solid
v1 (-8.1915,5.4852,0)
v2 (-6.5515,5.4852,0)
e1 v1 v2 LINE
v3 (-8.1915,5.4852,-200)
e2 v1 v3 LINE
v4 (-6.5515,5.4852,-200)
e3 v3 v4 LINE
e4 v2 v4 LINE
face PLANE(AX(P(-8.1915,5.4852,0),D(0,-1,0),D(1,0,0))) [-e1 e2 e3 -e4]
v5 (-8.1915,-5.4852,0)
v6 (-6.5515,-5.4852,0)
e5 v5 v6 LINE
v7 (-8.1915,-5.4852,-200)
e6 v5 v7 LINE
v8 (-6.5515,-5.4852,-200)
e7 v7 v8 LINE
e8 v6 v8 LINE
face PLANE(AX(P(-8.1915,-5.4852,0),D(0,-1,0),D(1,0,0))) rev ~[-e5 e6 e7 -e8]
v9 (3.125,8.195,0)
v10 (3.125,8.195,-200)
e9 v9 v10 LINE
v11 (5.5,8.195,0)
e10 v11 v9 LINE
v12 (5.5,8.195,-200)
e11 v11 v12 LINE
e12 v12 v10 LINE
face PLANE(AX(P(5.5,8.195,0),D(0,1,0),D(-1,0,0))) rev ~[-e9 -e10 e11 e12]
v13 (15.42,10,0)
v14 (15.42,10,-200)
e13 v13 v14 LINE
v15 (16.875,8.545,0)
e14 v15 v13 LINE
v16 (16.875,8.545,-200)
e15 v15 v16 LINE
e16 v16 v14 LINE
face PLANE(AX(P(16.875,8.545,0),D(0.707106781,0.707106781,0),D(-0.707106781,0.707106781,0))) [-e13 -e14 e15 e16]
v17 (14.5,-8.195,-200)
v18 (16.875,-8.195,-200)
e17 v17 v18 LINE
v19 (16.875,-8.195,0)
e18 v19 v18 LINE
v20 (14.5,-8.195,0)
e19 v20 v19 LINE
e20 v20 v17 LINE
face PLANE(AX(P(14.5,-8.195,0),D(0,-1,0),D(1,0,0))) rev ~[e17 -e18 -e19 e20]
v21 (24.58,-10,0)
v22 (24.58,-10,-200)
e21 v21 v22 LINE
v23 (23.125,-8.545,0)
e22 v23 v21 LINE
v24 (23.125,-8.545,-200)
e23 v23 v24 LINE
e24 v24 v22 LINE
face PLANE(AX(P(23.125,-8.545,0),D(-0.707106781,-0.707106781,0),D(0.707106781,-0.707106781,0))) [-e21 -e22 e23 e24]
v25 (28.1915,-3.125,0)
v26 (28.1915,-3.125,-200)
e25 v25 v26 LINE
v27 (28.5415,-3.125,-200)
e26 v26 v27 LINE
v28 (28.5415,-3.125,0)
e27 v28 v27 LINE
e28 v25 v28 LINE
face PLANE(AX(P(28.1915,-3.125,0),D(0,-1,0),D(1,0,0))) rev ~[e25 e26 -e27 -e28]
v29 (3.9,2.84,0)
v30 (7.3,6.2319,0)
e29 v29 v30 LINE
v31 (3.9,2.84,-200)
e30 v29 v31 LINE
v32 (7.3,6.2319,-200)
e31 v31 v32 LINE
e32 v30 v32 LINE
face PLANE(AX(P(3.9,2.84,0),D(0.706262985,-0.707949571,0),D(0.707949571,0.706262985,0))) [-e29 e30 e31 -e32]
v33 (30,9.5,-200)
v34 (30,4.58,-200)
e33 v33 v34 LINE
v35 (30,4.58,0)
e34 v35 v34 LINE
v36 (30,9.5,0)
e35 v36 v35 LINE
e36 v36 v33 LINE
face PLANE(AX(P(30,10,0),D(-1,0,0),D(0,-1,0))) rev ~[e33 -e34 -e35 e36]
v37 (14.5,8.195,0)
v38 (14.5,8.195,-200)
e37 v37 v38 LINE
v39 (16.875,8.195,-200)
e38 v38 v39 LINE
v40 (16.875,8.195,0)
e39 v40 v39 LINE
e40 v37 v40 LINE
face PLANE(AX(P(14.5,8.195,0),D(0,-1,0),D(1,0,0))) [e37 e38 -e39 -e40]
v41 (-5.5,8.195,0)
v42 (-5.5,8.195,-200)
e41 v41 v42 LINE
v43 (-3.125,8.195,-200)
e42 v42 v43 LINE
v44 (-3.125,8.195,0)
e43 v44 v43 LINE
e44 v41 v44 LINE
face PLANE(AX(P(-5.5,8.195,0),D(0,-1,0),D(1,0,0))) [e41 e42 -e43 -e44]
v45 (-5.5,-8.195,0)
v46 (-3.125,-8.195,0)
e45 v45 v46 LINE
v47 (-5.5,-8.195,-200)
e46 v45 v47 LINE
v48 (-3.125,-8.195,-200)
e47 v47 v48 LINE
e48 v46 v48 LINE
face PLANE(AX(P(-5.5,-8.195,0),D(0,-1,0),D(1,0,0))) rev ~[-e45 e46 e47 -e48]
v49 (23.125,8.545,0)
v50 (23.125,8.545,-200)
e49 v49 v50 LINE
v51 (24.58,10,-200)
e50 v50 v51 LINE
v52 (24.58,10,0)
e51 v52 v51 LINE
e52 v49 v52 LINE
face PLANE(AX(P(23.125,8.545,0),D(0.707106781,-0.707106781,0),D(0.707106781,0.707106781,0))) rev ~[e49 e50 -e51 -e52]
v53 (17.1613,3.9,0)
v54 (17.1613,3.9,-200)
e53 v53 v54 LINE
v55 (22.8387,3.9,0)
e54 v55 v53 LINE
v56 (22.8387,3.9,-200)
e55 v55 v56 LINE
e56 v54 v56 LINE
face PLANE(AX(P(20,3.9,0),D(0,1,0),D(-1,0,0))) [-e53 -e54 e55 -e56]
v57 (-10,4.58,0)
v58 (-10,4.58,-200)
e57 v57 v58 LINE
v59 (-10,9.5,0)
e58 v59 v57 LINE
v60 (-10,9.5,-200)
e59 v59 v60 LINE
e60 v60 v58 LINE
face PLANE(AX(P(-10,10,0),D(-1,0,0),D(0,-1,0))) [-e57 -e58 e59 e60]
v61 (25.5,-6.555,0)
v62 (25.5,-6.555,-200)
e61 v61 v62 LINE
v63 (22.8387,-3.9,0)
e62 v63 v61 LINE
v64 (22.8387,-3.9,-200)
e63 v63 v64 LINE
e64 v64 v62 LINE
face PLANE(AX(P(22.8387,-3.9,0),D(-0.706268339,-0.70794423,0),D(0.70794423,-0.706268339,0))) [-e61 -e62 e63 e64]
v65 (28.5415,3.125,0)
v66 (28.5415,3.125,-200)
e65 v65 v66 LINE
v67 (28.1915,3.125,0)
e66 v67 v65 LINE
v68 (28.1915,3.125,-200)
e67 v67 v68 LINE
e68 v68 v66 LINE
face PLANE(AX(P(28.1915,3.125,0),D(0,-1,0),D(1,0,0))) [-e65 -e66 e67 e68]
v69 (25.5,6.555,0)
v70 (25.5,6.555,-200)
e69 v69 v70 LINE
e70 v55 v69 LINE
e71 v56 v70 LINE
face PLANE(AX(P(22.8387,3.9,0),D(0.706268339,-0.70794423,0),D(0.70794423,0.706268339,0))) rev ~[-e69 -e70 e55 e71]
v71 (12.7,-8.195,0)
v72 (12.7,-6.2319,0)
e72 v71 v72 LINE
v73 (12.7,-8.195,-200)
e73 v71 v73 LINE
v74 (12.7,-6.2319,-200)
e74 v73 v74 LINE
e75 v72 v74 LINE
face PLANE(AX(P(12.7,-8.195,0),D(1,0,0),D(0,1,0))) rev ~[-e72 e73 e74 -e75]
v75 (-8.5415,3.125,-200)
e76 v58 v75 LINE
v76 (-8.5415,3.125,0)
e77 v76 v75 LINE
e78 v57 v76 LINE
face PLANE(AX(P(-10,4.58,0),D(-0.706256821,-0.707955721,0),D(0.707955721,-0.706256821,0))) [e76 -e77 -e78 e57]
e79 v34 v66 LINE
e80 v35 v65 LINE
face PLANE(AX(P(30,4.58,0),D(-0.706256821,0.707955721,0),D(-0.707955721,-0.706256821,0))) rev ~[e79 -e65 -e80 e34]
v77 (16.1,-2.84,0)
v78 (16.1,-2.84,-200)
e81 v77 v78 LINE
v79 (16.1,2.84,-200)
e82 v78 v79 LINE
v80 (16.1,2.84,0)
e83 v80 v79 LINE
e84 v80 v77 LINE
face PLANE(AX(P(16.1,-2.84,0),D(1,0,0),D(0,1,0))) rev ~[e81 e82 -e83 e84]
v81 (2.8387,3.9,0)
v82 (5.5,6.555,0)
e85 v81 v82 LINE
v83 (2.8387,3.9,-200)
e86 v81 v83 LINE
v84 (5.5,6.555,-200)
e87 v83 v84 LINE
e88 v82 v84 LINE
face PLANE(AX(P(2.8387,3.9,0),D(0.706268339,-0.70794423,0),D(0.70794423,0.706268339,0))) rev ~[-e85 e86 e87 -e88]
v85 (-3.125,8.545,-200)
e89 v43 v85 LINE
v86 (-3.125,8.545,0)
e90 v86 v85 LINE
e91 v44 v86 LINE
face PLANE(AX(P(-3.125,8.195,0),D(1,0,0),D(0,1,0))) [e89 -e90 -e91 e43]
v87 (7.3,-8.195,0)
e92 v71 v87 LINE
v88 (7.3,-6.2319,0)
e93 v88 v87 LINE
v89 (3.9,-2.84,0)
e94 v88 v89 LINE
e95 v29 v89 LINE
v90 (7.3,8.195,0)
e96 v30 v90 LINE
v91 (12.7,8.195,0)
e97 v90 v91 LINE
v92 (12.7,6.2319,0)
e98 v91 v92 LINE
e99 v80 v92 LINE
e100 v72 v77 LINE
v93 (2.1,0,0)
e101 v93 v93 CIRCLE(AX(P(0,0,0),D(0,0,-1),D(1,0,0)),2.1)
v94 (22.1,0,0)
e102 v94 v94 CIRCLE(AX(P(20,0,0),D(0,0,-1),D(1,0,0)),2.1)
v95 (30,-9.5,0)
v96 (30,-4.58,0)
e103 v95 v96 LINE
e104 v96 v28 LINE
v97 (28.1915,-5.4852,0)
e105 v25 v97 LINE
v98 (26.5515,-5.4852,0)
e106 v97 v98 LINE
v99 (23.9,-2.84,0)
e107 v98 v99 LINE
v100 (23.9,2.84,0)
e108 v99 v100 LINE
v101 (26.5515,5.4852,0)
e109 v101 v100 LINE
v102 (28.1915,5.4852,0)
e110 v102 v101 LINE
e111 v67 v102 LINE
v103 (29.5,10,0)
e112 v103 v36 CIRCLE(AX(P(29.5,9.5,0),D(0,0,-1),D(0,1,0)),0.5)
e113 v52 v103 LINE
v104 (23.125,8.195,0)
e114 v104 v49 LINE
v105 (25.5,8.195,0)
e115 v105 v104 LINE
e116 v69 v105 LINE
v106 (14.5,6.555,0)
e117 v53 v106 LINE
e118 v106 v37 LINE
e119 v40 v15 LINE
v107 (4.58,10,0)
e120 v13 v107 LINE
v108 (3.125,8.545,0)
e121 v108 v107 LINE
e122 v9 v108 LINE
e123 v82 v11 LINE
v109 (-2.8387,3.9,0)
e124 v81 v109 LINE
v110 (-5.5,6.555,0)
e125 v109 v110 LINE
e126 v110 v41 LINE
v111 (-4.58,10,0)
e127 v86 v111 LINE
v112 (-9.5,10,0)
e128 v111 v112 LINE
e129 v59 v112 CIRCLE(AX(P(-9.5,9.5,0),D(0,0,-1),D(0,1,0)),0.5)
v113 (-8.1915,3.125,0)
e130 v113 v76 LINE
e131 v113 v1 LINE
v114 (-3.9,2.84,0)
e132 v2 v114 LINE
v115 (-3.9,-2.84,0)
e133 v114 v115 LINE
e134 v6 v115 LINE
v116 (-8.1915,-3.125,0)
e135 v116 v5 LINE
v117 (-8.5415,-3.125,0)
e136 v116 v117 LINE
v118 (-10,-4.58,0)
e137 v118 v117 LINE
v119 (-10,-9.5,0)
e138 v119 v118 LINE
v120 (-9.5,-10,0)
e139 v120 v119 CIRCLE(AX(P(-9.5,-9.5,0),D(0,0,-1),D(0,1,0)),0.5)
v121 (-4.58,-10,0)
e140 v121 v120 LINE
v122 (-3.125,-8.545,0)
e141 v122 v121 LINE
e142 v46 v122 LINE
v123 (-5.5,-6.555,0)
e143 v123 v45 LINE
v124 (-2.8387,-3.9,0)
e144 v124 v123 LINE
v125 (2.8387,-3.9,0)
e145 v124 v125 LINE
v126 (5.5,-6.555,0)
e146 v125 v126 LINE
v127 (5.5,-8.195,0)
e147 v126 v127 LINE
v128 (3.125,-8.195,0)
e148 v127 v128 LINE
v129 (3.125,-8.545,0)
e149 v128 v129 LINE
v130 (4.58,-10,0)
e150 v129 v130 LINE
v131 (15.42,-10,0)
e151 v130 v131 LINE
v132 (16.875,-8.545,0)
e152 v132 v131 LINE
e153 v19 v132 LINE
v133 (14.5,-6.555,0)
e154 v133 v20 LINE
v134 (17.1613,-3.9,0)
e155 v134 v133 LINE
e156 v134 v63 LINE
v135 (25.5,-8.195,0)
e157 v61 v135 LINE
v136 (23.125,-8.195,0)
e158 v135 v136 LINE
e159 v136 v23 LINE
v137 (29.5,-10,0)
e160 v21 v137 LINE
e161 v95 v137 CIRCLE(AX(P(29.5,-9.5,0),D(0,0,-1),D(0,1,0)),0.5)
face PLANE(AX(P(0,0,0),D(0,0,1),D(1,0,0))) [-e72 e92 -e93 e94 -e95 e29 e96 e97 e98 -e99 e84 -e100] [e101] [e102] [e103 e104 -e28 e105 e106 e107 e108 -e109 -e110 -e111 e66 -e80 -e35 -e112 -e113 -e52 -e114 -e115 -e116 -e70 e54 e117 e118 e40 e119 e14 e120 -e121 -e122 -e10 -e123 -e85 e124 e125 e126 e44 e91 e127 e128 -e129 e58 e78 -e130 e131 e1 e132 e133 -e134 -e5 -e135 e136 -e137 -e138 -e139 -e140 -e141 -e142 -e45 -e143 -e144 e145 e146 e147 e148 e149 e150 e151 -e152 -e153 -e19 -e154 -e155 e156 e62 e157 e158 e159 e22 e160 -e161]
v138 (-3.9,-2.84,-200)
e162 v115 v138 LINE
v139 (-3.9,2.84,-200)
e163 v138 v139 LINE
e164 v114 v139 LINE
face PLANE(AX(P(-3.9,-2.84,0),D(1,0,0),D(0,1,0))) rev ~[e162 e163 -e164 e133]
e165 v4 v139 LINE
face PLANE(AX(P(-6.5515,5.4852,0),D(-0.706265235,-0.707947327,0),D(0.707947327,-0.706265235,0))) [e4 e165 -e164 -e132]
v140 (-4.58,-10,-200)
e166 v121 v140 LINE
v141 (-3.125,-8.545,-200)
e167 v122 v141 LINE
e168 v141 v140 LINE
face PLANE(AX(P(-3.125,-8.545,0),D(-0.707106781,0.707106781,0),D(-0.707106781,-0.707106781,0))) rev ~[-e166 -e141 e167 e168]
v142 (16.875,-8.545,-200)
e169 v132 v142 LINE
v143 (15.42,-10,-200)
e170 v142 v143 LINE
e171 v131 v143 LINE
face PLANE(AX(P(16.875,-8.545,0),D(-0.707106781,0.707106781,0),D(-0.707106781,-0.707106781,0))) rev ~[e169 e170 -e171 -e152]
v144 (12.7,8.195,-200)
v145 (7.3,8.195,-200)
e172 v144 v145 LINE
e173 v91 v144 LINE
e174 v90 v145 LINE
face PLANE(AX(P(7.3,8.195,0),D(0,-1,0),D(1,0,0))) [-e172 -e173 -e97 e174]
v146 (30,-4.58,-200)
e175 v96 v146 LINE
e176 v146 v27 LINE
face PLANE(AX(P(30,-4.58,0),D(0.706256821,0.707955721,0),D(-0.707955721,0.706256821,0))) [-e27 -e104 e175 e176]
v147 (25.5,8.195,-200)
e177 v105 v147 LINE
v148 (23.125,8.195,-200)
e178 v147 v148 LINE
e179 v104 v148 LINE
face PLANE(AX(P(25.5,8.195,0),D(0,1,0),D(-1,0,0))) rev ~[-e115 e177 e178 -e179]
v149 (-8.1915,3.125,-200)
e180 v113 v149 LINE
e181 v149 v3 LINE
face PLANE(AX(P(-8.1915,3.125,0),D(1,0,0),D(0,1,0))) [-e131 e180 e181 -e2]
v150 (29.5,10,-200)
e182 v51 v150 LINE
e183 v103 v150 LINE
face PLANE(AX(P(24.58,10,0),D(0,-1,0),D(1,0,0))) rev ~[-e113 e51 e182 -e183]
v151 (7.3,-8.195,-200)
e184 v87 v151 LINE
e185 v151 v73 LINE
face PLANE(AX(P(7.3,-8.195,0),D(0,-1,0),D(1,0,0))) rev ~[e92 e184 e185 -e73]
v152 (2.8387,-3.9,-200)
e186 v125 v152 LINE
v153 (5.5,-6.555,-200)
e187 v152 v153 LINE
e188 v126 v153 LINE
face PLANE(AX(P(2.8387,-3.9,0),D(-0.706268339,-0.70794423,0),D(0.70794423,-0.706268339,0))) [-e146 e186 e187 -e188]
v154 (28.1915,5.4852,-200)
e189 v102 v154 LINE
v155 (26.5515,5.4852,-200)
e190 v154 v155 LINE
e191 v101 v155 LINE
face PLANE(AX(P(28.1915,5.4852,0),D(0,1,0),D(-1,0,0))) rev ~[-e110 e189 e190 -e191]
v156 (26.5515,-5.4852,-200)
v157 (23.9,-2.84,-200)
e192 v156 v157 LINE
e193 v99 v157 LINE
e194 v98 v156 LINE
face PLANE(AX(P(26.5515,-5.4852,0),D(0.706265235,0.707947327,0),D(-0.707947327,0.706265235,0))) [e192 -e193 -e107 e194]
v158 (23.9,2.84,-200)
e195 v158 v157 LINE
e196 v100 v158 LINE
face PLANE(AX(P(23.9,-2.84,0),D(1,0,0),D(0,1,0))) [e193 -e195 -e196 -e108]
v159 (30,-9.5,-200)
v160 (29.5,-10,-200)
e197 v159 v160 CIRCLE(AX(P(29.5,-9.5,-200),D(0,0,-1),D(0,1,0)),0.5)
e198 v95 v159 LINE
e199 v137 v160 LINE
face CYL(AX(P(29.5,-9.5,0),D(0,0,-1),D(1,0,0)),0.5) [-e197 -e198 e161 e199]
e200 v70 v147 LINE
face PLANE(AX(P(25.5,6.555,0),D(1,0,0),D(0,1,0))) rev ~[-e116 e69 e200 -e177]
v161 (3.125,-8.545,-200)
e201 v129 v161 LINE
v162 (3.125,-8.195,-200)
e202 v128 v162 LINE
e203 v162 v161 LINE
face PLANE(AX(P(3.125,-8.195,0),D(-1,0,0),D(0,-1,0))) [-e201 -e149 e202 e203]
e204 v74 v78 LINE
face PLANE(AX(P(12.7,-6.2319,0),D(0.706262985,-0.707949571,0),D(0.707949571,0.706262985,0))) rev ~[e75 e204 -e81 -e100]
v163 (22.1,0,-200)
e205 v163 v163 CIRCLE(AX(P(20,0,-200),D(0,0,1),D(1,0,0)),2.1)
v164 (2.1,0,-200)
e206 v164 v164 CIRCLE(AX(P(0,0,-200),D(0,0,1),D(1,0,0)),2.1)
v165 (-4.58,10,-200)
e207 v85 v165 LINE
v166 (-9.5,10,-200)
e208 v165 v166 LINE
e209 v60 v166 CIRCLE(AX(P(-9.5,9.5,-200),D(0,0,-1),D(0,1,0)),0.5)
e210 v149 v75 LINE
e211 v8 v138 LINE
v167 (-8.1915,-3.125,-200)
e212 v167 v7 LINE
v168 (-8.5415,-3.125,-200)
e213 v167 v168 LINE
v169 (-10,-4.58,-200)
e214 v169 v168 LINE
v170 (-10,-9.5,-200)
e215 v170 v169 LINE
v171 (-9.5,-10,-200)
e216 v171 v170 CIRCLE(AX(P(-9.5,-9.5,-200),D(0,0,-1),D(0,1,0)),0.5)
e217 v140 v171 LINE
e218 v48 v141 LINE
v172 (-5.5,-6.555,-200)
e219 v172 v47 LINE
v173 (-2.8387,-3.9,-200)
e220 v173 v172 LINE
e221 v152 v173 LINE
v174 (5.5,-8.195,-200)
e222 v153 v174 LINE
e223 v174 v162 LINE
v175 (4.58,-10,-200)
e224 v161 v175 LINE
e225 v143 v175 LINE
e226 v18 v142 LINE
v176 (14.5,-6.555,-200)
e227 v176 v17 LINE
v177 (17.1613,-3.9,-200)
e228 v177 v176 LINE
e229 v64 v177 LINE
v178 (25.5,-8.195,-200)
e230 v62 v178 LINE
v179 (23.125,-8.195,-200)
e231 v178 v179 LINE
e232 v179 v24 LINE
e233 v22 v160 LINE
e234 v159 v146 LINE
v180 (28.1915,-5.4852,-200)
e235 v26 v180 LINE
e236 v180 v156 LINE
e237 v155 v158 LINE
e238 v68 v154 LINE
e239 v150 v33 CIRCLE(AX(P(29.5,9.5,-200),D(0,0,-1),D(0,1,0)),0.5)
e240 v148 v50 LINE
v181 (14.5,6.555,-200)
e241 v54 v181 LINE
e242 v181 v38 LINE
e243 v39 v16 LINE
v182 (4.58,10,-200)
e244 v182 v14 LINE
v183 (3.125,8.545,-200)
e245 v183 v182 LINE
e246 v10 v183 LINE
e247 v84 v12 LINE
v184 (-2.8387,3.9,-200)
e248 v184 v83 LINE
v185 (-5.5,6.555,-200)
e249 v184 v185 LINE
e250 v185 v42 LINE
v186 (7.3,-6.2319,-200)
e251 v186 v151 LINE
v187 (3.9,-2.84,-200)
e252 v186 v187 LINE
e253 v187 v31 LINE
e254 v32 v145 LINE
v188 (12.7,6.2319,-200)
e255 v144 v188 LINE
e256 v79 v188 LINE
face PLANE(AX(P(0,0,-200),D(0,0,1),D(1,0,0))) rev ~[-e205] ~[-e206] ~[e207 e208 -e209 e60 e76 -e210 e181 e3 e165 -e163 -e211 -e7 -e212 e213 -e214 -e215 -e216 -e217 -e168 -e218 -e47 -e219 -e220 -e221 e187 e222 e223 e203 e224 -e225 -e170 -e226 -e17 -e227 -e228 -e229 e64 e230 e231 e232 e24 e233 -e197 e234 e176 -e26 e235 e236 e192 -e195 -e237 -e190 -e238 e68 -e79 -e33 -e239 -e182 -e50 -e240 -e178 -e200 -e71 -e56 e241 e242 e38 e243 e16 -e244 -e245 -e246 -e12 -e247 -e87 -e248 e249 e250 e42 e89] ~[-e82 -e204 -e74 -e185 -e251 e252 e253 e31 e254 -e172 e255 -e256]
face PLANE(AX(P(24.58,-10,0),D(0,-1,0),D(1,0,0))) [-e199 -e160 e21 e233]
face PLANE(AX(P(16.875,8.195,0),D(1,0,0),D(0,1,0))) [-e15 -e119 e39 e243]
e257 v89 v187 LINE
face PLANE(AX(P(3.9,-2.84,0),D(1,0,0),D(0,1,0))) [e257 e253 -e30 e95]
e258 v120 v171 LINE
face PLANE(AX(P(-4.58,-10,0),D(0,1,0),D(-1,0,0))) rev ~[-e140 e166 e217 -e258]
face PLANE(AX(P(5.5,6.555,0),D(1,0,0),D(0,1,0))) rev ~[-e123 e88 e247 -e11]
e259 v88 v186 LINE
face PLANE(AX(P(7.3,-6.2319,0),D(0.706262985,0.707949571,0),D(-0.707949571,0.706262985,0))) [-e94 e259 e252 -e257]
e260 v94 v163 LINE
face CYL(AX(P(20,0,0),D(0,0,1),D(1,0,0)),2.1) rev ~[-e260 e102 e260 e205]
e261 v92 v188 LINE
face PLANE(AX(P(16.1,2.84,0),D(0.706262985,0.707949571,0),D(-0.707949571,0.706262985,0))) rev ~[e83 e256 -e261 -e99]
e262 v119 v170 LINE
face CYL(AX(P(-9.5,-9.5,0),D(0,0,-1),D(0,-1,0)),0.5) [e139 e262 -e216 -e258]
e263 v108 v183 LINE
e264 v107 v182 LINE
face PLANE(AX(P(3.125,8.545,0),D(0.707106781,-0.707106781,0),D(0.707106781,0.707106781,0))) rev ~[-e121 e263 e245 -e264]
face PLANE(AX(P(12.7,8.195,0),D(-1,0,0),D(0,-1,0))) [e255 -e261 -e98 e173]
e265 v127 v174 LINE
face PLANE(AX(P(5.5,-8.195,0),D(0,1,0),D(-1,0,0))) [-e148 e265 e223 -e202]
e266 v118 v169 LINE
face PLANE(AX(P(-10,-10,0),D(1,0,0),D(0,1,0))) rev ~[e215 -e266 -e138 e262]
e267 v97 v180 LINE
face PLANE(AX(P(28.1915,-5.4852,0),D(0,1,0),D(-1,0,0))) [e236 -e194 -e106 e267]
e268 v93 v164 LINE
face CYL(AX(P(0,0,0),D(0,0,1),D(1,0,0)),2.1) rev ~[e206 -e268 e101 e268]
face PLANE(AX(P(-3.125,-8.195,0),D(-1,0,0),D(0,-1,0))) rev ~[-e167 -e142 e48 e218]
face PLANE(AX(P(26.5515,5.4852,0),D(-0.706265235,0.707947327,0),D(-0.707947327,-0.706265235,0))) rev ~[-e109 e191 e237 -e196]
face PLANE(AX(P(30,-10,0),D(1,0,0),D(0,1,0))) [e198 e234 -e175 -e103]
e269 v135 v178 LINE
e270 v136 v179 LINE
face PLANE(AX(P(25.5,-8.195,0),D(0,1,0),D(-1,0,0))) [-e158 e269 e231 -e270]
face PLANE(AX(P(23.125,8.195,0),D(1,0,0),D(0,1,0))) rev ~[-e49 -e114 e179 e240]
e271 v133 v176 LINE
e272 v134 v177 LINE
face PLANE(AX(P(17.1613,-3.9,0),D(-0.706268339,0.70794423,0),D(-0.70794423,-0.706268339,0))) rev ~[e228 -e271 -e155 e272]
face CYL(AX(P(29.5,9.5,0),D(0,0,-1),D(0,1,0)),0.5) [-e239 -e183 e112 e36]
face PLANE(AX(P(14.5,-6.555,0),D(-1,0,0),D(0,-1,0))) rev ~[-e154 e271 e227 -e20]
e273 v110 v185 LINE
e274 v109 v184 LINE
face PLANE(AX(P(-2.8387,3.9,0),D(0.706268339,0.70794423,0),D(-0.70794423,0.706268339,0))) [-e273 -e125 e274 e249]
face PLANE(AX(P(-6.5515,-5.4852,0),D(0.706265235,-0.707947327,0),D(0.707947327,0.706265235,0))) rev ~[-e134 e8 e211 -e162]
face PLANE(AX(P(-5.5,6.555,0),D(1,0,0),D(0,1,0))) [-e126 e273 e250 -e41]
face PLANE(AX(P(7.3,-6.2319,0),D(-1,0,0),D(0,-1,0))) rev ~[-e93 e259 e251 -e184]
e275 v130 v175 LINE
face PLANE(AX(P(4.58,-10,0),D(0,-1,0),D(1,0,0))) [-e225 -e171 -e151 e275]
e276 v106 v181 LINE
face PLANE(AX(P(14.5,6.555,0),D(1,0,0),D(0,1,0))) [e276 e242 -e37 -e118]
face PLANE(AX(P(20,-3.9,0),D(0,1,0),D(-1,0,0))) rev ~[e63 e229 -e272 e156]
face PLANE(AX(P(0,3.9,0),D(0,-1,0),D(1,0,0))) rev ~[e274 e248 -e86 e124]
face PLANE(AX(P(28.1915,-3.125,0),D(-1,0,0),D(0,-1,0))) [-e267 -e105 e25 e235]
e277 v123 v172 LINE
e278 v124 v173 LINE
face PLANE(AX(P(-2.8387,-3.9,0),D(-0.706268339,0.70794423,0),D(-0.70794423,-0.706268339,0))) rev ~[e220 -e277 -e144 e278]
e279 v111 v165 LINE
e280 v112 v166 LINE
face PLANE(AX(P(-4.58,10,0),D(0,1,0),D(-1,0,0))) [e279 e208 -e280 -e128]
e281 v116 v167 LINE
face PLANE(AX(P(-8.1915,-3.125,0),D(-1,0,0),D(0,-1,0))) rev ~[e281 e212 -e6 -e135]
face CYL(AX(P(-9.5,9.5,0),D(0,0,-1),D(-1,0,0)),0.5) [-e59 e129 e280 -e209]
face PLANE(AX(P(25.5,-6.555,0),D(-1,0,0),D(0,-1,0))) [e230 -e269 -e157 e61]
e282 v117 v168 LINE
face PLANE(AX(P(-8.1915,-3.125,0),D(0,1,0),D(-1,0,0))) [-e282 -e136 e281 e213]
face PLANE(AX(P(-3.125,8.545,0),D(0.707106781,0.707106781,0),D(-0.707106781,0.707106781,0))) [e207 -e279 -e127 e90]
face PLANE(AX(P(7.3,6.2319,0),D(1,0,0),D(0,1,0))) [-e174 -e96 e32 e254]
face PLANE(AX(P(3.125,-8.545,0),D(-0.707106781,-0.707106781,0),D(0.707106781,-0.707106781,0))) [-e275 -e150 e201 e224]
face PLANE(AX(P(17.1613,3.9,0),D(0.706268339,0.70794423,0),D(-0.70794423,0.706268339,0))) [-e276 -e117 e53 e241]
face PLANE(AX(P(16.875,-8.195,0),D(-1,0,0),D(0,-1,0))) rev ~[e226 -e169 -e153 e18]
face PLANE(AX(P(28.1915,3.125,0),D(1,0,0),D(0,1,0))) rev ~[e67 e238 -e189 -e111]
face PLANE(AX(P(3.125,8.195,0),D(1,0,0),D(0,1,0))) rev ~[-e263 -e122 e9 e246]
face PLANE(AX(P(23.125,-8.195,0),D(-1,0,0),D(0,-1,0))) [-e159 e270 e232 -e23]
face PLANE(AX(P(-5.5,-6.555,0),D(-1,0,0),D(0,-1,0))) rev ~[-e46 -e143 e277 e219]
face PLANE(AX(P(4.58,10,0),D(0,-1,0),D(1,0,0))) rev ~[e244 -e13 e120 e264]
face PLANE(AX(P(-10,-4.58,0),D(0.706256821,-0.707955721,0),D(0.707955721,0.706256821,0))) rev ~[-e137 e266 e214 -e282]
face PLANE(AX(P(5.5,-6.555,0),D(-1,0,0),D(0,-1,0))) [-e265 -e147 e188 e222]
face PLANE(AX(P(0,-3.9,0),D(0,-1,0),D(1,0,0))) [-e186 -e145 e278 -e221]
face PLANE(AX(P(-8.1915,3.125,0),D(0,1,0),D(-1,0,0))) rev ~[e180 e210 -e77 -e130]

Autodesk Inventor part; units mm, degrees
ref_plane "YZ Plane" through (0, 0, 0) normal (1, 0, 0) x (0, 1, 0)
ref_plane "XZ Plane" through (0, 0, 0) normal (0, 1, 0) x (-1, 0, 0)
ref_plane "XY Plane" through (0, 0, 0) normal (0, 0, 1) x (1, 0, 0)
sketch "Boceto1" plane through (0, 0, 0) normal (0, 0, 1) x (1, 0, 0)
  circle A0 centre (0, 0) radius 2.1
  line L0 (-12, 0) -> (12, 0)
  line L1 (0, 12) -> (0, -12)
  line L2 (0, 3.9) -> (-2.8387, 3.9)
  line L3 (-2.8387, 3.9) -> (-5.5, 6.555)
  line L4 (-5.5, 6.555) -> (-5.5, 8.195)
  line L5 (-5.5, 8.195) -> (-3.125, 8.195)
  line L6 (-3.125, 8.545) -> (-4.58, 10)
  line L7 (-4.58, 10) -> (-10, 10)
  line L8 (-10, 10) -> (-10, 4.58)
  line L9 (-10, 4.58) -> (-8.5415, 3.125)
  line L10 (-8.1915, 3.125) -> (-8.1915, 5.4852)
  line L11 (-8.1915, 5.4852) -> (-6.5515, 5.4852)
  line L12 (-6.5515, 5.4852) -> (-3.9, 2.84)
  line L13 (-3.9, 2.84) -> (-3.9, 0)
  line L14 (3.125, 8.545) -> (4.58, 10)
  line L15 (5.5, 8.195) -> (3.125, 8.195)
  line L16 (5.5, 6.555) -> (5.5, 8.195)
  line L17 (2.8387, 3.9) -> (5.5, 6.555)
  line L18 (0, 3.9) -> (2.8387, 3.9)
  line L19 (3.9, 2.84) -> (3.9, 0)
  line L20 (-10, -10) -> (-10, -4.58)
  line L21 (-4.58, -10) -> (-10, -10)
  line L22 (-3.125, -8.545) -> (-4.58, -10)
  line L23 (-5.5, -8.195) -> (-3.125, -8.195)
  line L24 (-5.5, -6.555) -> (-5.5, -8.195)
  line L25 (-2.8387, -3.9) -> (-5.5, -6.555)
  line L26 (0, -3.9) -> (-2.8387, -3.9)
  line L27 (0, -3.9) -> (2.8387, -3.9)
  line L28 (2.8387, -3.9) -> (5.5, -6.555)
  line L29 (5.5, -6.555) -> (5.5, -8.195)
  line L30 (5.5, -8.195) -> (3.125, -8.195)
  line L31 (3.125, -8.545) -> (4.58, -10)
  line L32 (7.3, -6.2319) -> (3.9, -2.84)
  line L33 (3.9, -2.84) -> (3.9, 0)
  line L34 (-3.9, -2.84) -> (-3.9, 0)
  line L35 (-6.5515, -5.4852) -> (-3.9, -2.84)
  line L36 (-8.1915, -5.4852) -> (-6.5515, -5.4852)
  line L37 (-8.1915, -3.125) -> (-8.1915, -5.4852)
  line L38 (-10, -4.58) -> (-8.5415, -3.125)
  line L39 (-3.125, 8.195) -> (-3.125, 8.545)
  line L40 (-8.1915, 3.125) -> (-8.5415, 3.125)
  line L41 (3.125, 8.195) -> (3.125, 8.545)
  line L42 (-8.1915, -3.125) -> (-8.5415, -3.125)
  line L43 (-3.125, -8.195) -> (-3.125, -8.545)
  line L44 (3.125, -8.195) -> (3.125, -8.545)
  line L45 (10, 12) -> (10, -12)
  line L46 (16.875, 8.195) -> (16.875, 8.545)
  line L47 (14.5, 8.195) -> (16.875, 8.195)
  line L48 (14.5, 6.555) -> (14.5, 8.195)
  line L49 (16.875, 8.545) -> (15.42, 10)
  line L50 (17.1613, 3.9) -> (14.5, 6.555)
  line L51 (20, 3.9) -> (17.1613, 3.9)
  line L52 (32, 0) -> (8, 0)
  line L53 (20, 3.9) -> (22.8387, 3.9)
  line L54 (23.125, 8.195) -> (23.125, 8.545)
  circle A1 centre (20, 0) radius 2.1
  line L55 (23.9, -2.84) -> (23.9, 0)
  line L56 (26.5515, -5.4852) -> (23.9, -2.84)
  line L57 (28.1915, -5.4852) -> (26.5515, -5.4852)
  line L58 (24.58, -10) -> (30, -10)
  line L59 (30, -10) -> (30, -4.58)
  line L60 (28.1915, -3.125) -> (28.1915, -5.4852)
  line L61 (30, -4.58) -> (28.5415, -3.125)
  line L62 (28.1915, -3.125) -> (28.5415, -3.125)
  line L63 (22.8387, -3.9) -> (25.5, -6.555)
  line L64 (25.5, -8.195) -> (23.125, -8.195)
  line L65 (23.125, -8.195) -> (23.125, -8.545)
  line L66 (23.125, -8.545) -> (24.58, -10)
  line L67 (20, -3.9) -> (22.8387, -3.9)
  line L68 (20, -3.9) -> (17.1613, -3.9)
  line L69 (16.875, -8.195) -> (16.875, -8.545)
  line L70 (25.5, -6.555) -> (25.5, -8.195)
  line L71 (12.7, -6.2319) -> (16.1, -2.84)
  line L72 (17.1613, -3.9) -> (14.5, -6.555)
  line L73 (14.5, -8.195) -> (16.875, -8.195)
  line L74 (16.875, -8.545) -> (15.42, -10)
  line L75 (14.5, -6.555) -> (14.5, -8.195)
  line L76 (20, 12) -> (20, -12)
  line L77 (22.8387, 3.9) -> (25.5, 6.555)
  line L78 (25.5, 6.555) -> (25.5, 8.195)
  line L79 (25.5, 8.195) -> (23.125, 8.195)
  line L80 (23.125, 8.545) -> (24.58, 10)
  line L81 (24.58, 10) -> (30, 10)
  line L82 (30, 10) -> (30, 4.58)
  line L83 (30, 4.58) -> (28.5415, 3.125)
  line L84 (28.1915, 3.125) -> (28.1915, 5.4852)
  line L85 (28.1915, 5.4852) -> (26.5515, 5.4852)
  line L86 (26.5515, 5.4852) -> (23.9, 2.84)
  line L87 (23.9, 2.84) -> (23.9, 0)
  line L88 (28.1915, 3.125) -> (28.5415, 3.125)
  line L89 (16.1, 2.84) -> (16.1, 0)
  line L90 (16.1, -2.84) -> (16.1, 0)
  line L91 (7.3, -6.2319) -> (7.3, -8.195)
  line L92 (7.3, -8.195) -> (12.7, -8.195)
  line L93 (12.7, -8.195) -> (12.7, -6.2319)
  line L94 (4.58, 10) -> (15.42, 10)
  line L95 (4.58, -10) -> (15.42, -10)
  line L96 (3.9, 2.84) -> (7.3, 6.2319)
  line L97 (7.3, 6.2319) -> (7.3, 8.195)
  line L98 (7.3, 8.195) -> (12.7, 8.195)
  line L99 (12.7, 8.195) -> (12.7, 6.2319)
  line L100 (16.1, 2.84) -> (12.7, 6.2319)
  point P0 (10, 0)
  dimension "d0" = 4.2
  dimension "d1" = 24
  dimension "d2" = 24
  dimension "d3" = 90
  dimension "d6" = 20
  dimension "d7" = 1.5
  dimension "d8" = 1.64
  dimension "d9" = 1.64
  dimension "d10" = 7.8
  dimension "d11" = 11
  dimension "d12" = 9.16
  dimension "d14" = 6.25
  dimension "d15" = 6.25
  dimension "d16" = 0.35
  dimension "d17" = 7.8
  dimension "d18" = 0.35
  dimension "d20" = 24
  dimension "d24" = 12.2
  dimension "d25" = 9.16
  dimension "d26" = 5.68
  dimension "d31" = 5.4
  dimension "d32" = 5.4
  dimension "d34" = 40
extrude "Extrusión1" add sketch "Boceto1" against normal blind 200 contours L0 L33 L32 L91 L92 L45 L95 L31 L44 L30 L29 L28 L27 L1 A0 | A0 L1 L18 L17 L16 L15 L41 L14 L94 L45 L98 L97 L96 L19 L0 | A0 L0 L13 L12 L11 L10 L40 L9 L8 L7 L6 L39 L5 L4 L3 L2 L1 | L1 L26 L25 L24 L23 L43 L22 L21 L20 L38 L42 L37 L36 L35 L34 L0 A0 | L45 L94 L49 L46 L47 L48 L50 L51 L76 A1 L52 L89 L100 L99 L98 | L92 L93 L71 L90 L52 A1 L76 L68 L72 L75 L73 L69 L74 L95 L45 | L76 L53 L77 L78 L79 L54 L80 L81 L82 L83 L88 L84 L85 L86 L87 L52 A1 | A1 L52 L55 L56 L57 L60 L62 L61 L59 L58 L66 L65 L64 L70 L63 L67 L76
fillet "Empalme1" radius 0.5 4 edges at (-10, 10, -100) (30, 10, -100) (30, -10, -100) (-10, -10, -100)
properties part number "Perfil2040" material "Aluminio 6061"
